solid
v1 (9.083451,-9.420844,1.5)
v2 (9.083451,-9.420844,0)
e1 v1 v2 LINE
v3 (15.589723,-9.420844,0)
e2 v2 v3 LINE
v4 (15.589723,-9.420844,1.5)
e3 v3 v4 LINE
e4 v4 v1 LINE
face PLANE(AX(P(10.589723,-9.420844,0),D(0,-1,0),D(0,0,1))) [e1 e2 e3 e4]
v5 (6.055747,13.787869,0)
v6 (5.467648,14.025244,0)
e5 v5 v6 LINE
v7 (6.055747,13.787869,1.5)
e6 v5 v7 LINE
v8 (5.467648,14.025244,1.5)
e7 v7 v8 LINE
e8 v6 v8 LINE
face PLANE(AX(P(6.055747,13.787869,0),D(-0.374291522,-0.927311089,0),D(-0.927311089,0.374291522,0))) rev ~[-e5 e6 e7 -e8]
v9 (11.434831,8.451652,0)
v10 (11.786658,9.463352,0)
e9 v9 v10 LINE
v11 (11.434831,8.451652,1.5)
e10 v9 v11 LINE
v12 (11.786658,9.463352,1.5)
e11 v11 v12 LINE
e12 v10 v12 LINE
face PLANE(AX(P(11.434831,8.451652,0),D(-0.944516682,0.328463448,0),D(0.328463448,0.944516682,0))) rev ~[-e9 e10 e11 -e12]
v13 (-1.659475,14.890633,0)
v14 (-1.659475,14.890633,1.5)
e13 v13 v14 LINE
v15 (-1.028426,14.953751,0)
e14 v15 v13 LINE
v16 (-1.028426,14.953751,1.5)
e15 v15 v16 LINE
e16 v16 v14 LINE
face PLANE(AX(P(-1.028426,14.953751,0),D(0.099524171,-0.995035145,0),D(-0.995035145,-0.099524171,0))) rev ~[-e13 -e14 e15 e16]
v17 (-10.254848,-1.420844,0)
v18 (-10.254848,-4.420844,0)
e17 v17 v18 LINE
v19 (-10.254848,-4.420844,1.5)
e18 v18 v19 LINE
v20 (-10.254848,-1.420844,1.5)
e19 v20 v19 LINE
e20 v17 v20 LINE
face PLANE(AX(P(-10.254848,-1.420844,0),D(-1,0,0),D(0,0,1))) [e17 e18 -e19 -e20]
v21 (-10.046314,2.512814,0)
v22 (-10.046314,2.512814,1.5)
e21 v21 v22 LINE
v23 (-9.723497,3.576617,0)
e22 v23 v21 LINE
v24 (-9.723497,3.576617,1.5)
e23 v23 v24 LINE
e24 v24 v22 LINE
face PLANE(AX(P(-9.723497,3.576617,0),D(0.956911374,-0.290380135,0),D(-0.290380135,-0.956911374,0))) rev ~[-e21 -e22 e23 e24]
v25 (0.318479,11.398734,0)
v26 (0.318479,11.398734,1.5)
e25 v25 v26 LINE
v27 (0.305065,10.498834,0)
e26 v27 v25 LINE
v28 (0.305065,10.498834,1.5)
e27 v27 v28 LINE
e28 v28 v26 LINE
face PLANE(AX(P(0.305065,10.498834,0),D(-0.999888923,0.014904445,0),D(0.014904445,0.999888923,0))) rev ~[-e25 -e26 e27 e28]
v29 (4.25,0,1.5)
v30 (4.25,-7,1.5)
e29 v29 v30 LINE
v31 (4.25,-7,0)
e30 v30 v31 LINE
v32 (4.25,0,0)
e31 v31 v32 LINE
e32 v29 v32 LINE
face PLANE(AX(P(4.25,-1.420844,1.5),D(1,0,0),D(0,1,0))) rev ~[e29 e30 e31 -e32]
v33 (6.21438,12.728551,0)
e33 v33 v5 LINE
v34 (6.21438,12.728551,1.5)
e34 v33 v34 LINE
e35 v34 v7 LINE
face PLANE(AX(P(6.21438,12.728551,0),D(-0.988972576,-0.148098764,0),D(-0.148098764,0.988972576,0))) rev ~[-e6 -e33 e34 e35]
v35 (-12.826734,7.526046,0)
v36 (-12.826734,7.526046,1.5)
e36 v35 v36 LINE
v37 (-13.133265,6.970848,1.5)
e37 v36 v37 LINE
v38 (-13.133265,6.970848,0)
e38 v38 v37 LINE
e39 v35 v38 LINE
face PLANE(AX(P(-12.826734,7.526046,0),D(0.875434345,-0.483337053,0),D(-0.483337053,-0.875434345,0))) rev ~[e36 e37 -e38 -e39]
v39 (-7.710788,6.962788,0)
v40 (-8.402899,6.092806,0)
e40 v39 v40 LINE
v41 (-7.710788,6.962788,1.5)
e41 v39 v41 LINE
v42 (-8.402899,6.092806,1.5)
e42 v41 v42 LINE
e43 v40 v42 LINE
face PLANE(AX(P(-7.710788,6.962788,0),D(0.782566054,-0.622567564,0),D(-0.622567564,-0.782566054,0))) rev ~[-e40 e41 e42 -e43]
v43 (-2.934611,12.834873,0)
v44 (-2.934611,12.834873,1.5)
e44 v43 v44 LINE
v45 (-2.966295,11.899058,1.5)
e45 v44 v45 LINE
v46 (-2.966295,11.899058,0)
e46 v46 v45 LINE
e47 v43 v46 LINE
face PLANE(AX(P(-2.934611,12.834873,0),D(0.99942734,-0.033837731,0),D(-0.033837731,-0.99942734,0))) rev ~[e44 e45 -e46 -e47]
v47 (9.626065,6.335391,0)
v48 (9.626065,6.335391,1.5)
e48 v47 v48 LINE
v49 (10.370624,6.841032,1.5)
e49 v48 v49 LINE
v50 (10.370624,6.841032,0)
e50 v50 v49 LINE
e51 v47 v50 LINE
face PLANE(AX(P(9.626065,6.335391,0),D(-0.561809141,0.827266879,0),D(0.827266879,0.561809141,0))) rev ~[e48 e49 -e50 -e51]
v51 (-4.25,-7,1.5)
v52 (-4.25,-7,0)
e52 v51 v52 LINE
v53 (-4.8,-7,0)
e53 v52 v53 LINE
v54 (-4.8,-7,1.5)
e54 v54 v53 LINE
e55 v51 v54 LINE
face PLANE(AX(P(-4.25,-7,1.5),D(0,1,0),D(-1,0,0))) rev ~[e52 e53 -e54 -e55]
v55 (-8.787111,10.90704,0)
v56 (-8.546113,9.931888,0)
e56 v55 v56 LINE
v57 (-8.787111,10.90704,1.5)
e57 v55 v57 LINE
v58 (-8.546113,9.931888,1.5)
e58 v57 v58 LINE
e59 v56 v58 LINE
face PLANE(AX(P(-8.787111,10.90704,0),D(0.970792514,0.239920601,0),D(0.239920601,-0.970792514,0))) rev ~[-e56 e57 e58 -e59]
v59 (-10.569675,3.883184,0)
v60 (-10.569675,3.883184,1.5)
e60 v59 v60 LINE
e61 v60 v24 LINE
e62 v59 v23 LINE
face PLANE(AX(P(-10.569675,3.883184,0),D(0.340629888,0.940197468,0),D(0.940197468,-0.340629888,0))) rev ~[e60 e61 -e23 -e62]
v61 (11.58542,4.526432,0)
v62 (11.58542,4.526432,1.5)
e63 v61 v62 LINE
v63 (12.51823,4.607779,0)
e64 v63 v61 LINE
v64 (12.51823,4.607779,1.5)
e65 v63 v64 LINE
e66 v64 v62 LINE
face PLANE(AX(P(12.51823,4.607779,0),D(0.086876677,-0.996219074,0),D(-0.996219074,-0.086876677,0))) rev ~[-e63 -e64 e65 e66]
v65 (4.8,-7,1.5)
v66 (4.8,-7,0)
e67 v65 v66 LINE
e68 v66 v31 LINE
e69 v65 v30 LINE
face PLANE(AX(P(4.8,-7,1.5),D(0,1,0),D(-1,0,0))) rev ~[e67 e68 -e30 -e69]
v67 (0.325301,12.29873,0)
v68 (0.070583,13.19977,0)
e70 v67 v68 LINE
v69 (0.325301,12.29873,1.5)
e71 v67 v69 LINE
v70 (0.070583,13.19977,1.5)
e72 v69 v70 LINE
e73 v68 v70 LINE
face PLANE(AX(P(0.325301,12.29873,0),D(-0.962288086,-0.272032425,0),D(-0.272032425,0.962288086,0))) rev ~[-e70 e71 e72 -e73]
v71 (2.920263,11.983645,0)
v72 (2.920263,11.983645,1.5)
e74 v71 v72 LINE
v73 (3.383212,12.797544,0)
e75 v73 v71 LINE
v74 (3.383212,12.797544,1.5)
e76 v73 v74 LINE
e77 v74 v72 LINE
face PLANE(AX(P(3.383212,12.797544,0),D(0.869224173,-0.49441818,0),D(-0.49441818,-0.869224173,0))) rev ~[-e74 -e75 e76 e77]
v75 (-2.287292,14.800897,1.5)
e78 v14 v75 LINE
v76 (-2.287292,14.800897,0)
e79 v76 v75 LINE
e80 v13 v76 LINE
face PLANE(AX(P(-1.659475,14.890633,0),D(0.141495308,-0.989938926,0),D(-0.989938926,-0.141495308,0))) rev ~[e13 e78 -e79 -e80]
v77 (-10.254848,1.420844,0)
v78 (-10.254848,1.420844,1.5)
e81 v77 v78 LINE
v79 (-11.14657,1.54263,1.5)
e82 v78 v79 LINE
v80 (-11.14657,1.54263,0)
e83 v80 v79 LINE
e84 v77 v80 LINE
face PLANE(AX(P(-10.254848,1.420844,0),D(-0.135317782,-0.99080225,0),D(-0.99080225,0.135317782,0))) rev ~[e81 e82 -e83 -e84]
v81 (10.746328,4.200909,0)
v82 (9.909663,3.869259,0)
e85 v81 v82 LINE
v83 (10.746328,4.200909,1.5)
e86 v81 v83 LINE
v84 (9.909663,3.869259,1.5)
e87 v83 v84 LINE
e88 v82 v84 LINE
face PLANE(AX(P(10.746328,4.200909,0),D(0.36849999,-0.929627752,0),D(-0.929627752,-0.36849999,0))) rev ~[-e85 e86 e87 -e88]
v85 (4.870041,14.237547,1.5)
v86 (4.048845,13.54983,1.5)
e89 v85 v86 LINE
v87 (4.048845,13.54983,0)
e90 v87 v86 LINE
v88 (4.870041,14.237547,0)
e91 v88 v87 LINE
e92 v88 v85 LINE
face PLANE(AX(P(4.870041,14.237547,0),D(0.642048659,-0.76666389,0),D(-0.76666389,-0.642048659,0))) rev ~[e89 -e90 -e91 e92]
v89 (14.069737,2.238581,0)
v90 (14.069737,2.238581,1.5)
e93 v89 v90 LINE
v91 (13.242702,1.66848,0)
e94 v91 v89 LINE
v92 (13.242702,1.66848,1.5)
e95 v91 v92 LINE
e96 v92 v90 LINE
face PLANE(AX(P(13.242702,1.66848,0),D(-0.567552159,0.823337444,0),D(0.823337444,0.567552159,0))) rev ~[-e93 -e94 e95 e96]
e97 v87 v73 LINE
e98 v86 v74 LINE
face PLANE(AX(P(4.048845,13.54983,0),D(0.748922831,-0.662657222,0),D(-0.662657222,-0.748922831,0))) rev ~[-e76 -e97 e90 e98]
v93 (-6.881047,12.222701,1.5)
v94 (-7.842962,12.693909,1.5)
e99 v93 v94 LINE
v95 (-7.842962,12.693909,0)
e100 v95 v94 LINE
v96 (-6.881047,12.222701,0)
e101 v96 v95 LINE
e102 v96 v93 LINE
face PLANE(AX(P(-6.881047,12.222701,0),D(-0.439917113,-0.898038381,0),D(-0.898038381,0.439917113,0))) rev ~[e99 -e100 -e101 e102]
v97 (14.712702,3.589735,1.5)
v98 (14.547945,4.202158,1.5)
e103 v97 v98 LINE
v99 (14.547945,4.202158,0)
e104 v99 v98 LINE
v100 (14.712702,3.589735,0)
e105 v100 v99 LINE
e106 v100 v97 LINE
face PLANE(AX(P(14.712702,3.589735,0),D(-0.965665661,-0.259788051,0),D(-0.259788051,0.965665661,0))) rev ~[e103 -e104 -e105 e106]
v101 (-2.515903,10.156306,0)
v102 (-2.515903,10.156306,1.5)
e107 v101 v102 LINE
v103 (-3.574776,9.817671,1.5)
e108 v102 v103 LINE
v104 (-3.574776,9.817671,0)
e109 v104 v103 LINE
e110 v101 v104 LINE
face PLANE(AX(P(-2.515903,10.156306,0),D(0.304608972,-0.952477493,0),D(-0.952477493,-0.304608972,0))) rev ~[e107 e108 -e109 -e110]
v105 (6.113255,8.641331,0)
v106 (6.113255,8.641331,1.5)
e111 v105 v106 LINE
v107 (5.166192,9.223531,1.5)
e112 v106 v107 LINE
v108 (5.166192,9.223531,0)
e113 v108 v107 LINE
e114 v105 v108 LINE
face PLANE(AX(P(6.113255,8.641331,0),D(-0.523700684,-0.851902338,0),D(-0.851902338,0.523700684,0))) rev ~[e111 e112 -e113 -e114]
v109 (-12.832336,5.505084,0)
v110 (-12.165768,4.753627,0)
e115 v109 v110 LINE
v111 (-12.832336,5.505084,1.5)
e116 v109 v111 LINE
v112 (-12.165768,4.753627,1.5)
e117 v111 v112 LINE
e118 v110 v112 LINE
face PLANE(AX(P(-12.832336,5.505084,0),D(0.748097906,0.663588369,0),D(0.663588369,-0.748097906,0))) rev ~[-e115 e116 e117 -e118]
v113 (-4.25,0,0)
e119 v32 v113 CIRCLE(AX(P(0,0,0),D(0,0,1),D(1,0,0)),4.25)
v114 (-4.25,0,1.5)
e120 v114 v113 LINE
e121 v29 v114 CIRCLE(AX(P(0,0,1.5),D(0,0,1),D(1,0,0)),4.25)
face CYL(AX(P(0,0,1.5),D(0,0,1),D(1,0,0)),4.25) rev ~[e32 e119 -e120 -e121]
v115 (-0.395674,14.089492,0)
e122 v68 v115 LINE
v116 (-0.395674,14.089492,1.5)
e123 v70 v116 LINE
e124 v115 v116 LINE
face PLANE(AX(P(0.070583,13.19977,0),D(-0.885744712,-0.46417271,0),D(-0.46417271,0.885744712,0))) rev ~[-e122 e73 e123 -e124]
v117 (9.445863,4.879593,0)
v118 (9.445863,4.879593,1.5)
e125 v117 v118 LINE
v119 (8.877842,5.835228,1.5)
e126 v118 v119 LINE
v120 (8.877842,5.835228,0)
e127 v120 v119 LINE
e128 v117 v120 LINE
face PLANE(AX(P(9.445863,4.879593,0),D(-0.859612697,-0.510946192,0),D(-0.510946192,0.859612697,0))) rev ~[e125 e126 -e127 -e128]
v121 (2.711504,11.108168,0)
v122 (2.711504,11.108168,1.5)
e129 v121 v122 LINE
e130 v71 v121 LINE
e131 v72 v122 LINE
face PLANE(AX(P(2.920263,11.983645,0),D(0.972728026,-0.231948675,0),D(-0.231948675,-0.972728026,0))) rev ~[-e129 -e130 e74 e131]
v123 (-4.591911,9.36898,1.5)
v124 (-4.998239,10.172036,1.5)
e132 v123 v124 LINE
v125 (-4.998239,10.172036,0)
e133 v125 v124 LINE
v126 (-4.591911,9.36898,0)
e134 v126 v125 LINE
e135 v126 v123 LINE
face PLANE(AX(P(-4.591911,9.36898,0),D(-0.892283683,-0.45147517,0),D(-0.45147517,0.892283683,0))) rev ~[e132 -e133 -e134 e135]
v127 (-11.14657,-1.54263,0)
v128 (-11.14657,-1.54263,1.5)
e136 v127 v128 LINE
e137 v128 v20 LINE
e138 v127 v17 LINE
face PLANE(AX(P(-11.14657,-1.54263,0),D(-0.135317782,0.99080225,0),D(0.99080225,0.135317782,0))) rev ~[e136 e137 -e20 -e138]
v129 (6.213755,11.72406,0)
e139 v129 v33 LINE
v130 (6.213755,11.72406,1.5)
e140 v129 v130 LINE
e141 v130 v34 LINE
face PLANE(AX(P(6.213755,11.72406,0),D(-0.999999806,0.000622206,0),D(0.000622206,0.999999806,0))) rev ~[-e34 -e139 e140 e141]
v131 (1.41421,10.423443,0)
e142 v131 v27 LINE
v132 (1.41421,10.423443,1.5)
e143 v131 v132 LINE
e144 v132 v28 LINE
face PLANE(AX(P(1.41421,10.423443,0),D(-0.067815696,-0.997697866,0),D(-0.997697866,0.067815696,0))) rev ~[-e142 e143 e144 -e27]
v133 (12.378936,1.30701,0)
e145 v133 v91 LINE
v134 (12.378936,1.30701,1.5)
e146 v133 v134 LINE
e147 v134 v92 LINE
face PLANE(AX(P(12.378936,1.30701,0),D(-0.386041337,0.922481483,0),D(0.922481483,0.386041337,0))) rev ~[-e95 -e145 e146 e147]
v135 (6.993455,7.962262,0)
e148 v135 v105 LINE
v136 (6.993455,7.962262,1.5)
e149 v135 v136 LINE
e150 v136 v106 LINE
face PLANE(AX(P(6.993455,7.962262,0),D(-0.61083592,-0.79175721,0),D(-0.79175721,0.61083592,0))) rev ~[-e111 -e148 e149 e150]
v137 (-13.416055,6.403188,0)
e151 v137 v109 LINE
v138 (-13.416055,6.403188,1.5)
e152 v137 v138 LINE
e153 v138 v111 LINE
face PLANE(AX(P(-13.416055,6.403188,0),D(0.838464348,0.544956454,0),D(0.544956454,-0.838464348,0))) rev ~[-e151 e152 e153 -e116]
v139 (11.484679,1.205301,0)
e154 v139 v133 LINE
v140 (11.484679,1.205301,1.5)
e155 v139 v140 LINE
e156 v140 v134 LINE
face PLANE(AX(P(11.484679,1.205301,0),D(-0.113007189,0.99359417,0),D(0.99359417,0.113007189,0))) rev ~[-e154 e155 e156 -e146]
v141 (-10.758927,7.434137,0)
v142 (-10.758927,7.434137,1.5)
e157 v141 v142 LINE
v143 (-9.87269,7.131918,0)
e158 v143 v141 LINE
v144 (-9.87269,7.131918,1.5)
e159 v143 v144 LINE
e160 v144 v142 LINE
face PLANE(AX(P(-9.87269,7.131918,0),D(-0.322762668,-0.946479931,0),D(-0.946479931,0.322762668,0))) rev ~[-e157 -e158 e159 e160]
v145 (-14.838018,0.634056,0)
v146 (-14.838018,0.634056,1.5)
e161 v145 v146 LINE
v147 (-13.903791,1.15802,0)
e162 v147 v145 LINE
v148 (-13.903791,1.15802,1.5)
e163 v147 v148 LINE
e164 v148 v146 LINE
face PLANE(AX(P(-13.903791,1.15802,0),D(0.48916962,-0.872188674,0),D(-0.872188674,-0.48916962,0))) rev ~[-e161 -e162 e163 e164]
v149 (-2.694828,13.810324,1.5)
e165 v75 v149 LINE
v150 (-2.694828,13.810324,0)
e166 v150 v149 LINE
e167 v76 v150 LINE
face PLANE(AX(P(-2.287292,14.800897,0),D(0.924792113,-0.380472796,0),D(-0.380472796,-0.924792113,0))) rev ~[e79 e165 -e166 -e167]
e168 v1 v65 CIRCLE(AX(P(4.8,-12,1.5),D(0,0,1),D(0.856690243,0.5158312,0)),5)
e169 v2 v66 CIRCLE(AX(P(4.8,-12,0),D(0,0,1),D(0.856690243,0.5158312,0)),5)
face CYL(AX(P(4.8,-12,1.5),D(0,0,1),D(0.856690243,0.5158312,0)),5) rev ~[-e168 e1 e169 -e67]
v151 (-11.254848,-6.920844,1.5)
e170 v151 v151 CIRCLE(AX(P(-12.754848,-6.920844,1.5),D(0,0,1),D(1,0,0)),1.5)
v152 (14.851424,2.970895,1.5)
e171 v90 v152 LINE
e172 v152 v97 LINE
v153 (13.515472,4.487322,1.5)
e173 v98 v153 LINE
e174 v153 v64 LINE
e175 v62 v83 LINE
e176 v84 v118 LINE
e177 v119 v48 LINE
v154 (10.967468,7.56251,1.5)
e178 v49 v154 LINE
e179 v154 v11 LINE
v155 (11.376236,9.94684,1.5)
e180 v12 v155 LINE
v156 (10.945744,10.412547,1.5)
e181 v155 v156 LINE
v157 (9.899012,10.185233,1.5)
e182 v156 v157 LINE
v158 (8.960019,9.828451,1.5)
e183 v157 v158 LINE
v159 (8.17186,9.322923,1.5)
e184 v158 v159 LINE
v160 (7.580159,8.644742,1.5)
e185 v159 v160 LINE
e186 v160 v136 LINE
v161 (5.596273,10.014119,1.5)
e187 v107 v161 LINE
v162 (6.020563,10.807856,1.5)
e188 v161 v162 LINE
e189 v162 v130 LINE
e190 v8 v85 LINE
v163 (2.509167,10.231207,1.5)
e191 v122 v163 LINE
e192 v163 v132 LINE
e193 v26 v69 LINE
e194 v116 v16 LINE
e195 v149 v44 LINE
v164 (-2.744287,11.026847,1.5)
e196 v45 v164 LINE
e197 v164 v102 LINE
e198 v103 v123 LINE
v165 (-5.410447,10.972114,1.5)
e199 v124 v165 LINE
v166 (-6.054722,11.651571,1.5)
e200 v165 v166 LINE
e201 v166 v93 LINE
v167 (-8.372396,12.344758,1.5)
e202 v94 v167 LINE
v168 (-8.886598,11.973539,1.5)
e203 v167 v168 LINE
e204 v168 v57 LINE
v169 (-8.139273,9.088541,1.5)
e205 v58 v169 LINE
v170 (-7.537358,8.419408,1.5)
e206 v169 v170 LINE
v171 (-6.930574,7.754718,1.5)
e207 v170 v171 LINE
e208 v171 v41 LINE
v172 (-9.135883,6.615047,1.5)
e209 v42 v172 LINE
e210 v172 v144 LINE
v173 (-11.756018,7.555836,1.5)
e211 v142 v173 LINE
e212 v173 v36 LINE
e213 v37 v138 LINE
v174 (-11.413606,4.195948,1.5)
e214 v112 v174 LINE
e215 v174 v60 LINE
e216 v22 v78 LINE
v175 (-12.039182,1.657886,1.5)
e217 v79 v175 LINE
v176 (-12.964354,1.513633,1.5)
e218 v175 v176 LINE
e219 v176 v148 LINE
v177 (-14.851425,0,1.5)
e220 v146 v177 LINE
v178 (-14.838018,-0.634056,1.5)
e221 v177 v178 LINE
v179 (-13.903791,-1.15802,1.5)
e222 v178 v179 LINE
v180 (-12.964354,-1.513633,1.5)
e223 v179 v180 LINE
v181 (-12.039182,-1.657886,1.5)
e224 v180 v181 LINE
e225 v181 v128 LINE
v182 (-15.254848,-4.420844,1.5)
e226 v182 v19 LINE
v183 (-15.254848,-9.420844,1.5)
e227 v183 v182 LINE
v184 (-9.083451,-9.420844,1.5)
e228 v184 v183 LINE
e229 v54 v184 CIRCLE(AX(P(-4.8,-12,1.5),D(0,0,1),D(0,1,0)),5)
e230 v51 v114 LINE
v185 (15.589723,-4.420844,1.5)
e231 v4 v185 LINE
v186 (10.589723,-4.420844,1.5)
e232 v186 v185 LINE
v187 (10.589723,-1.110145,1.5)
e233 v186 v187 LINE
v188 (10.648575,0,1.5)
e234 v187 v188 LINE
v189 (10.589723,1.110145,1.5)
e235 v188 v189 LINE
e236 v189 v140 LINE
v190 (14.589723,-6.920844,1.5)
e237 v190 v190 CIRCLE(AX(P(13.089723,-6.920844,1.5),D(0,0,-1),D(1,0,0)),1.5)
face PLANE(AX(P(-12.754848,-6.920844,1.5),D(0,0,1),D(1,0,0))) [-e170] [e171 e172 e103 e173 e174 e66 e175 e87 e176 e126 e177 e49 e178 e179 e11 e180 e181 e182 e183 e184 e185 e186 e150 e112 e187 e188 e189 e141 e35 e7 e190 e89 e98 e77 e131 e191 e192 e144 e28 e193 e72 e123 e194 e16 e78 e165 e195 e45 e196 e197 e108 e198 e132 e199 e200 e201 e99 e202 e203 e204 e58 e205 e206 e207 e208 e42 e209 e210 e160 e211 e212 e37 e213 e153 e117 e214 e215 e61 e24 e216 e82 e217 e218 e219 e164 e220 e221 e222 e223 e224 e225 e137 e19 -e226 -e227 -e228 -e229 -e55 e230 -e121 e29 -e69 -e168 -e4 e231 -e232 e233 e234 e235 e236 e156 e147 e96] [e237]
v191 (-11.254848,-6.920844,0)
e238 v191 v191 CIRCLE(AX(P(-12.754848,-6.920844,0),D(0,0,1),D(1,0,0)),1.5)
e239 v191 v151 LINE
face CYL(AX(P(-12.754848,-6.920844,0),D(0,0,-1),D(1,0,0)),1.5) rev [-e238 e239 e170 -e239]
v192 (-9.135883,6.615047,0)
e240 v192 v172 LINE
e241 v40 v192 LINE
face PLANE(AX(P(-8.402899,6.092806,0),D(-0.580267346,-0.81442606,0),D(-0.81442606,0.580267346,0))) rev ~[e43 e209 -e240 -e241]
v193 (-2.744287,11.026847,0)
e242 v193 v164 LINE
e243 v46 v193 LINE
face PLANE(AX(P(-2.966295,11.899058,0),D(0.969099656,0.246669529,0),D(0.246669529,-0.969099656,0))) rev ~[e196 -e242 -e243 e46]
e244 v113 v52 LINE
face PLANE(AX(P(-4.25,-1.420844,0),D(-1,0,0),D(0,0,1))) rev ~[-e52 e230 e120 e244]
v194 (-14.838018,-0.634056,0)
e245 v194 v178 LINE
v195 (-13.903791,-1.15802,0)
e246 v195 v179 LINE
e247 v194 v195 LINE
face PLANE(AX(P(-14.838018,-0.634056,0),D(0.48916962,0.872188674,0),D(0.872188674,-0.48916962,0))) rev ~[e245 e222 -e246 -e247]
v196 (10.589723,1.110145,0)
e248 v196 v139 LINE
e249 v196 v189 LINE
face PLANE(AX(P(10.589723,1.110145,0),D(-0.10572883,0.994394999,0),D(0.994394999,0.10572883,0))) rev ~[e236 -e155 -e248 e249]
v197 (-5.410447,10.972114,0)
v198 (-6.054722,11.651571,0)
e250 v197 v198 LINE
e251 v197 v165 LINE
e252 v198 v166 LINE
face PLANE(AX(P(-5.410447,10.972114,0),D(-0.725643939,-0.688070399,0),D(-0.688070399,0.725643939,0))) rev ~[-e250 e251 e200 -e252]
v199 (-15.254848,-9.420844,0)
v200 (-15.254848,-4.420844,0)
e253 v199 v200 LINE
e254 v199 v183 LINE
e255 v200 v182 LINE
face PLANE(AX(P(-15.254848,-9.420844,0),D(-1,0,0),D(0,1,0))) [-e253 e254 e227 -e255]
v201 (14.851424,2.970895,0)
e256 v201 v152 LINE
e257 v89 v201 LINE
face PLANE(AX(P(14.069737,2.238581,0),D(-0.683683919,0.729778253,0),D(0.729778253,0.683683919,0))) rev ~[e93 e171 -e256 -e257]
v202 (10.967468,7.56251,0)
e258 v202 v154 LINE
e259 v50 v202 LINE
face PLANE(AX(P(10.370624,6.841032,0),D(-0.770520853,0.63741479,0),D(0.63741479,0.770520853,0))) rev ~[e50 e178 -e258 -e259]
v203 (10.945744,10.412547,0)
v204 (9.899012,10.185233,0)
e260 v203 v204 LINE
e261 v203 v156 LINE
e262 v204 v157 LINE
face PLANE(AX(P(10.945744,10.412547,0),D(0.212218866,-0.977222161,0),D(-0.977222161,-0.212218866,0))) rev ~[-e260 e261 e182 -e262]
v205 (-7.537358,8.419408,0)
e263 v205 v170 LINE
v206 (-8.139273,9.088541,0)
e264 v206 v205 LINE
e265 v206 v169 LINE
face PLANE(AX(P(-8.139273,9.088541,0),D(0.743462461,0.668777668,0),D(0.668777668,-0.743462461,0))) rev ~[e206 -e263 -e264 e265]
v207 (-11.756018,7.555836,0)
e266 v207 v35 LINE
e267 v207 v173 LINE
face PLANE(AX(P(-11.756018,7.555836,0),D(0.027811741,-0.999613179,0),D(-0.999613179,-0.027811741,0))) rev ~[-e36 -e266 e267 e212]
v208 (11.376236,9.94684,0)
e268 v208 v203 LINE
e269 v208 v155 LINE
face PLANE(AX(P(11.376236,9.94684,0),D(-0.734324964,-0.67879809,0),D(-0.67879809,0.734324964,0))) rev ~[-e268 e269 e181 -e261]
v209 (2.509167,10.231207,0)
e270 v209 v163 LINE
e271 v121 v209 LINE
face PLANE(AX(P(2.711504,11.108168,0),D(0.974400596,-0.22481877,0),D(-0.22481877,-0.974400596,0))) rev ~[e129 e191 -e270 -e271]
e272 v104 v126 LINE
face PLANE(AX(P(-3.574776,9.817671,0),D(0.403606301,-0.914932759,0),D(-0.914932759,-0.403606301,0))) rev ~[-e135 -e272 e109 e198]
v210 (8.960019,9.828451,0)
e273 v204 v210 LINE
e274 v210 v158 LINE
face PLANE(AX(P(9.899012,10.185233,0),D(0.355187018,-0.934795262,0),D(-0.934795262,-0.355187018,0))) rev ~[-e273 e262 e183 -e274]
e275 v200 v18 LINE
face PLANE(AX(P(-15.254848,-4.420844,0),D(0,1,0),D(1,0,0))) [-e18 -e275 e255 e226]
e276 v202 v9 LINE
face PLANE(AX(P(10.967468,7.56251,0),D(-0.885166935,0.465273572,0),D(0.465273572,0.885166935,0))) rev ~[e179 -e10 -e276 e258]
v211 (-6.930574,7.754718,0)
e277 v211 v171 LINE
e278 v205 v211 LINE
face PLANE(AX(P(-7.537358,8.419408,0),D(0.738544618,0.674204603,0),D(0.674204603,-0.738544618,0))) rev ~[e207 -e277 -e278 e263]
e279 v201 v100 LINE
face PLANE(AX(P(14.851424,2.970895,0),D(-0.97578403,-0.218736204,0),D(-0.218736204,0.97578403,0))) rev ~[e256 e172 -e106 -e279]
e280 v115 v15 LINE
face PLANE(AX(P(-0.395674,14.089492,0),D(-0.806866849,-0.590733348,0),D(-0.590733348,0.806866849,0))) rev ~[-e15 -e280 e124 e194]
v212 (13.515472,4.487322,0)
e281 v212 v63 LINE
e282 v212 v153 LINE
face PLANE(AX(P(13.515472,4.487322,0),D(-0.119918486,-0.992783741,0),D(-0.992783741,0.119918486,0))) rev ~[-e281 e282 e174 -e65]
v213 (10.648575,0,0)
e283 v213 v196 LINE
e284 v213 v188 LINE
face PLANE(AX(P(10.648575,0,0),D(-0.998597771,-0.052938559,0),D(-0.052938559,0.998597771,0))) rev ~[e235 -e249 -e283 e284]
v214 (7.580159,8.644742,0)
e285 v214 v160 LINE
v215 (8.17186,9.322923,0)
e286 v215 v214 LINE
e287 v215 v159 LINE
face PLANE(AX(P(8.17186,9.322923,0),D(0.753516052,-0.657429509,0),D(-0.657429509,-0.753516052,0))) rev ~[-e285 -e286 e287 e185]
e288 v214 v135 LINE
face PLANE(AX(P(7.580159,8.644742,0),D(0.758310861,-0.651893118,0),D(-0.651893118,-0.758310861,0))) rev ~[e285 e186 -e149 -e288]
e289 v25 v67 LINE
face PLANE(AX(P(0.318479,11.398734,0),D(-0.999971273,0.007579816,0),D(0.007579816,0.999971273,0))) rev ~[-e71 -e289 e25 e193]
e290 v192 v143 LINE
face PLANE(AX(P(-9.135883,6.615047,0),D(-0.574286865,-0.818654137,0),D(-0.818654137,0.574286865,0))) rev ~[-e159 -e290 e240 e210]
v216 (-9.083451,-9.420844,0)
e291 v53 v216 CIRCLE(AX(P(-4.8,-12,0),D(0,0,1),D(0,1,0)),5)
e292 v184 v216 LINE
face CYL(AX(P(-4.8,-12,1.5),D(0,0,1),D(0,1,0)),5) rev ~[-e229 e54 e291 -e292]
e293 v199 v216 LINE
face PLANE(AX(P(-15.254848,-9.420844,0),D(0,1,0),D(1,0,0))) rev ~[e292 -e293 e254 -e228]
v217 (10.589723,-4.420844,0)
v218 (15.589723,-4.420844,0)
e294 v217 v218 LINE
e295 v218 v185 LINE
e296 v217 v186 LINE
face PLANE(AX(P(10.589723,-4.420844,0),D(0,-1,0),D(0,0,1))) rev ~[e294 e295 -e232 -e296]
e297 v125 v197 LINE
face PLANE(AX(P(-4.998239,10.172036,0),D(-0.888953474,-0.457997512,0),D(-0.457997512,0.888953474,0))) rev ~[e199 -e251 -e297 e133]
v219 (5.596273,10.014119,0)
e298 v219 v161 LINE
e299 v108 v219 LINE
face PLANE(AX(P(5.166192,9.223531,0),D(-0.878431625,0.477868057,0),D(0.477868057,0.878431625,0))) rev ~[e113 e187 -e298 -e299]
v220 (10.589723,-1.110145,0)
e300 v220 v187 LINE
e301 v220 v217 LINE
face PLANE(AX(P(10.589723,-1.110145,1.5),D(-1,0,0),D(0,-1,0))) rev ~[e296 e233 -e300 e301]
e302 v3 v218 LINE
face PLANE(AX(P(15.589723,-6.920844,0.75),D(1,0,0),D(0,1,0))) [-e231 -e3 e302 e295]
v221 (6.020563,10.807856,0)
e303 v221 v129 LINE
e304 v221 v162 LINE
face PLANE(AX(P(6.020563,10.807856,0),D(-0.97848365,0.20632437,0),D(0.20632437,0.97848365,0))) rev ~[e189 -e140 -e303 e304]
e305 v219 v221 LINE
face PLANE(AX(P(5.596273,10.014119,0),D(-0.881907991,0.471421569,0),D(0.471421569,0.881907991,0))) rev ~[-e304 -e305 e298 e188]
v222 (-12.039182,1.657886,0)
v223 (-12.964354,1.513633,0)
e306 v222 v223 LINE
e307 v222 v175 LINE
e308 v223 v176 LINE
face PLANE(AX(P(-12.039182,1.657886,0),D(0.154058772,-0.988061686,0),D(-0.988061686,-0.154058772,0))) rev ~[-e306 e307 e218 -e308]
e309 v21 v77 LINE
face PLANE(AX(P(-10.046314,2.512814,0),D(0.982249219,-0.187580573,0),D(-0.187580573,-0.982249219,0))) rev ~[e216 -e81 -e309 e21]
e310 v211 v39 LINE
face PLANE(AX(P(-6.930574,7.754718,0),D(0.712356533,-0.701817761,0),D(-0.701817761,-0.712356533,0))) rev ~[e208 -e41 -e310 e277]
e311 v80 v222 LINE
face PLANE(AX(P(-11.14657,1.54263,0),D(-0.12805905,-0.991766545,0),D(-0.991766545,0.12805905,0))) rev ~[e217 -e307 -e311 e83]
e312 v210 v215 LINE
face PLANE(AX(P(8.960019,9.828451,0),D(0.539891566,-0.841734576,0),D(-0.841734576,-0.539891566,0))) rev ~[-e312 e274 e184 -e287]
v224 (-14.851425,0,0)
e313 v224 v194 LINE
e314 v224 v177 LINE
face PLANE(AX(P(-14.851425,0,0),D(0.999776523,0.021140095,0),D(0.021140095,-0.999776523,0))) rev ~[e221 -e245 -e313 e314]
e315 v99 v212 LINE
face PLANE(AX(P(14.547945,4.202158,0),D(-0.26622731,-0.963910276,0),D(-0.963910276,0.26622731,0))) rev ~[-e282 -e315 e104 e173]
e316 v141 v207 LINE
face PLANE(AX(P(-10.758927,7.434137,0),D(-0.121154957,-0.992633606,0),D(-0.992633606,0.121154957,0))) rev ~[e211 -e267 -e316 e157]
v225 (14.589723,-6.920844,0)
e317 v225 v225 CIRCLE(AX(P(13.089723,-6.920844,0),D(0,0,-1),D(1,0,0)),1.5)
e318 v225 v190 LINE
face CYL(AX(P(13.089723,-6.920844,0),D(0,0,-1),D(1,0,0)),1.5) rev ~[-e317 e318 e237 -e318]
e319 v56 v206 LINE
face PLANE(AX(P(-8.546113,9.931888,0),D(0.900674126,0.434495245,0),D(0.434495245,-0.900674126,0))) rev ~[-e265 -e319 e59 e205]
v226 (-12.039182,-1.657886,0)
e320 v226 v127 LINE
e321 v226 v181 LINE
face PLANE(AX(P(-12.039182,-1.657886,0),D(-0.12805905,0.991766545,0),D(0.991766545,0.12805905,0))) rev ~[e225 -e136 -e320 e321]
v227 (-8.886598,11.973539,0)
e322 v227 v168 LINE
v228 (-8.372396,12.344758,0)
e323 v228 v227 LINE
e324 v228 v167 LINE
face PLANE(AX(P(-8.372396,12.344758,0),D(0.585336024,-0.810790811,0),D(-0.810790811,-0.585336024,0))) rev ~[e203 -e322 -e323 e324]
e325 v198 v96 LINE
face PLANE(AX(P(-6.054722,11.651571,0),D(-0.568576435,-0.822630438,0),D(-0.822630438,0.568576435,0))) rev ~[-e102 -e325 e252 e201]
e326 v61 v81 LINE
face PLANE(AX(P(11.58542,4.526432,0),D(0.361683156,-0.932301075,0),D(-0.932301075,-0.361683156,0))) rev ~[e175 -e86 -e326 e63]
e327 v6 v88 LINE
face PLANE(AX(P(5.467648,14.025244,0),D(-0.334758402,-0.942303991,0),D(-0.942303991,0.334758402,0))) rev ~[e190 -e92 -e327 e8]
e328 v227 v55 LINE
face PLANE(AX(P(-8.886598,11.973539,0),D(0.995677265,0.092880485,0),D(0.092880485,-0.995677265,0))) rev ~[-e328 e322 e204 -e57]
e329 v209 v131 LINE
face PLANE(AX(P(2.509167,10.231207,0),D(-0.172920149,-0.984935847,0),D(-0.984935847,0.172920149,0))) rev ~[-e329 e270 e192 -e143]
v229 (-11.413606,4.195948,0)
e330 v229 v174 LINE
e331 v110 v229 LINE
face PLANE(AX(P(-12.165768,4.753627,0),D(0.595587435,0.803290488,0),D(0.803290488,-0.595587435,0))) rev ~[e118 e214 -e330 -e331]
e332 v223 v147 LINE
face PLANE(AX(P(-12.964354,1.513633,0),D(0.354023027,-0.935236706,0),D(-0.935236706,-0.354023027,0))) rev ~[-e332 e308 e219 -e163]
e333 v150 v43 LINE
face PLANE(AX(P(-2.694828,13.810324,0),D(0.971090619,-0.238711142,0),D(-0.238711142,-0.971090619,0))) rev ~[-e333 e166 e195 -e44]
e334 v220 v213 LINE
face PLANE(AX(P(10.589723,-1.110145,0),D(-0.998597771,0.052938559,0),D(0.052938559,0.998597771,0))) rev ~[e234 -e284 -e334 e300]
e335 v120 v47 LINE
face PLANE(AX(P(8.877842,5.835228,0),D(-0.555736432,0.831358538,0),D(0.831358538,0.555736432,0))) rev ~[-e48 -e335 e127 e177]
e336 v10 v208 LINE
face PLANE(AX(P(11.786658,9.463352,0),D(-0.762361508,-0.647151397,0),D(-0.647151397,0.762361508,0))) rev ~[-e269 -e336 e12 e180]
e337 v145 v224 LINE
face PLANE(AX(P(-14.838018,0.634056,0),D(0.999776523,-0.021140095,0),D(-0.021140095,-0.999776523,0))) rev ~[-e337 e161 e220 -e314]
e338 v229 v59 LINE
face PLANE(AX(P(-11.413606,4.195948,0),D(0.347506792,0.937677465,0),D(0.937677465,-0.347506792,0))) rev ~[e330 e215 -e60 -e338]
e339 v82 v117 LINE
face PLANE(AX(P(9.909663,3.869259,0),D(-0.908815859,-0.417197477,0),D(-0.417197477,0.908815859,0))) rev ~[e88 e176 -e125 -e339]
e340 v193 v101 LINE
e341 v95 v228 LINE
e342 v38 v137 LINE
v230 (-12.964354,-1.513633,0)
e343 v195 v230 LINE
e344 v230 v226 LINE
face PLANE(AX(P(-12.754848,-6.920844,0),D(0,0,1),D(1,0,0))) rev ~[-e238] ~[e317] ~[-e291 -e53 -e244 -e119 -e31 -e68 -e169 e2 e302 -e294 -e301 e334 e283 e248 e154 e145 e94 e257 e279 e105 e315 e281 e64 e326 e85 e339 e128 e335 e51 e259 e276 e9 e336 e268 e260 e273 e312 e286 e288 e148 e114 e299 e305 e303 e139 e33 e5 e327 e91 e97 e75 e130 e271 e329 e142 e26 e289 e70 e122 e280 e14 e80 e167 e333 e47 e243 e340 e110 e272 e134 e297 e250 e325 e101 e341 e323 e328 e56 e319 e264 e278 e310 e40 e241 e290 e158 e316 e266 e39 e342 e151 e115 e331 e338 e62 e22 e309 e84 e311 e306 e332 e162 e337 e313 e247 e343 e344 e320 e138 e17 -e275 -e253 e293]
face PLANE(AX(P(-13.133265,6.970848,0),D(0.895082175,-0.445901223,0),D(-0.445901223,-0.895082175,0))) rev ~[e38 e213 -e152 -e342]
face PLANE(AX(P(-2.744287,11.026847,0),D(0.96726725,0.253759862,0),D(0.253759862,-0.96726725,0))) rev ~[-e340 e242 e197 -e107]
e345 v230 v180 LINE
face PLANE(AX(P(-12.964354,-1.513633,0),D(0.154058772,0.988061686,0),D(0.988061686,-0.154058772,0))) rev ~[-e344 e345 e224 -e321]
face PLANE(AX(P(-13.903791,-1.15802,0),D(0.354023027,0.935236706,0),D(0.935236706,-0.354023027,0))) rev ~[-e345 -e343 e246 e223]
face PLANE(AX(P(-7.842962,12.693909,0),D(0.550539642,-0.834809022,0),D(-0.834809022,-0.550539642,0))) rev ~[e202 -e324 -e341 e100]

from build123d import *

# Parameters (mm, degrees)
F1_DEPTH  = 1.5
F3_DEPTH  = 1.5
F4_W      = 6.004848
F4_H      = 1.5
F4_W_2    = 6.339723
F5_DEPTH  = 8
F6_W      = 5
F6_H      = 1.5
F7_DEPTH  = 5
F8_R      = 1.5
F9_DEPTH  = 1.5
F10_W     = 5
F10_H     = 5
F10_R     = 1.5
F11_DEPTH = 1.5
F13_DEPTH = 1.5


with BuildPart() as f1:
    # F0 (on Top) → F1 (new body)
    with BuildSketch(Plane.XY):
        Polygon((10.589723, -1.110145), (10.648575, 0), (10.589723, 1.110145), (11.484679, 1.205301), (12.378936, 1.30701), (13.242702, 1.66848), (14.069737, 2.238581), (14.851424, 2.970895), (14.712702, 3.589735), (14.547945, 4.202158), (13.515472, 4.487322), (12.51823, 4.607779), (11.58542, 4.526432), (10.746328, 4.200909), (9.909663, 3.869259), (9.445863, 4.879593), (8.877842, 5.835228), (9.626065, 6.335391), (10.370624, 6.841032), (10.967468, 7.56251), (11.434831, 8.451652), (11.786658, 9.463352), (11.376236, 9.94684), (10.945744, 10.412547), (9.899012, 10.185233), (8.960019, 9.828451), (8.17186, 9.322923), (7.580159, 8.644742), (6.993455, 7.962262), (6.113255, 8.641331), (5.166192, 9.223531), (5.596273, 10.014119), (6.020563, 10.807856), (6.213755, 11.72406), (6.21438, 12.728551), (6.055747, 13.787869), (5.467648, 14.025244), (4.870041, 14.237547), (4.048845, 13.54983), (3.383212, 12.797544), (2.920263, 11.983645), (2.711504, 11.108168), (2.509167, 10.231207), (1.41421, 10.423443), (0.305065, 10.498834), (0.318479, 11.398734), (0.325301, 12.29873), (0.070583, 13.19977), (-0.395674, 14.089492), (-1.028426, 14.953751), (-1.659475, 14.890633), (-2.287292, 14.800897), (-2.694828, 13.810324), (-2.934611, 12.834873), (-2.966295, 11.899058), (-2.744287, 11.026847), (-2.515903, 10.156306), (-3.574776, 9.817671), (-4.591911, 9.36898), (-4.998239, 10.172036), (-5.410447, 10.972114), (-6.054722, 11.651571), (-6.881047, 12.222701), (-7.842962, 12.693909), (-8.372396, 12.344758), (-8.886598, 11.973539), (-8.787111, 10.90704), (-8.546113, 9.931888), (-8.139273, 9.088541), (-7.537358, 8.419408), (-6.930574, 7.754718), (-7.710788, 6.962788), (-8.402899, 6.092806), (-9.135883, 6.615047), (-9.87269, 7.131918), (-10.758927, 7.434137), (-11.756018, 7.555836), (-12.826734, 7.526046), (-13.133265, 6.970848), (-13.416055, 6.403188), (-12.832336, 5.505084), (-12.165768, 4.753627), (-11.413606, 4.195948), (-10.569675, 3.883184), (-9.723497, 3.576617), (-10.046314, 2.512814), (-10.254848, 1.420844), (-11.14657, 1.54263), (-12.039182, 1.657886), (-12.964354, 1.513633), (-13.903791, 1.15802), (-14.838018, 0.634056), (-14.851425, 0), (-14.838018, -0.634056), (-13.903791, -1.15802), (-12.964354, -1.513633), (-12.039182, -1.657886), (-11.14657, -1.54263), (-10.254848, -1.420844), (-10.046314, -2.512814), (-9.723497, -3.576617), (-10.569675, -3.883184), (-11.413606, -4.195948), (-12.165768, -4.753627), (-12.832336, -5.505084), (-13.416055, -6.403188), (-13.133265, -6.970848), (-12.826734, -7.526046), (-11.756018, -7.555836), (-10.758927, -7.434137), (-9.87269, -7.131918), (-9.135883, -6.615047), (-8.402899, -6.092806), (-7.710788, -6.962788), (-6.930574, -7.754718), (-7.537358, -8.419408), (-8.139273, -9.088541), (-8.546113, -9.931888), (-8.787111, -10.90704), (-8.886598, -11.973539), (-8.372396, -12.344758), (-7.842962, -12.693909), (-6.881047, -12.222701), (-6.054722, -11.651571), (-5.410447, -10.972114), (-4.998239, -10.172036), (-4.591911, -9.36898), (-3.574776, -9.817671), (-2.515903, -10.156306), (-2.744287, -11.026847), (-2.966295, -11.899058), (-2.934611, -12.834873), (-2.694828, -13.810324), (-2.287292, -14.800897), (-1.659475, -14.890633), (-1.028426, -14.953751), (-0.395674, -14.089492), (0.070583, -13.19977), (0.325301, -12.29873), (0.318479, -11.398734), (0.305065, -10.498834), (1.41421, -10.423443), (2.509167, -10.231207), (2.711504, -11.108168), (2.920263, -11.983645), (3.383212, -12.797544), (4.048845, -13.54983), (4.870041, -14.237547), (5.467648, -14.025244), (6.055747, -13.787869), (6.21438, -12.728551), (6.213755, -11.72406), (6.020563, -10.807856), (5.596273, -10.014119), (5.166192, -9.223531), (6.113255, -8.641331), (6.993455, -7.962262), (7.580159, -8.644742), (8.17186, -9.322923), (8.960019, -9.828451), (9.899012, -10.185233), (10.945744, -10.412547), (11.376236, -9.94684), (11.786658, -9.463352), (11.434831, -8.451652), (10.967468, -7.56251), (10.370624, -6.841032), (9.626065, -6.335391), (8.877842, -5.835228), (9.445863, -4.879593), (9.909663, -3.869259), (10.746328, -4.200909), (11.58542, -4.526432), (12.51823, -4.607779), (13.515472, -4.487322), (14.547945, -4.202158), (14.712702, -3.589735), (14.851424, -2.970895), (14.069737, -2.238581), (13.242702, -1.66848), (12.378936, -1.30701), (11.484679, -1.205301), align=None)
    extrude(amount=F1_DEPTH)

    # F2 (on face) → F3 (cut, through all)
    with BuildSketch(Plane.XY.offset(1.5)):
        with BuildLine():
            Line((4.25, -1.420844), (4.25, 0))
            ThreePointArc((4.25, 0), (0, 4.25), (-4.25, 0))
            Line((-4.25, 0), (-4.25, -1.420844))
            Line((-4.25, -1.420844), (-10.254848, -1.420844))
            Line((-10.254848, -1.420844), (-10.046314, -2.512814))
            Line((-10.046314, -2.512814), (-9.723497, -3.576617))
            Line((-9.723497, -3.576617), (-10.569675, -3.883184))
            Line((-10.569675, -3.883184), (-11.413606, -4.195948))
            Line((-11.413606, -4.195948), (-12.165768, -4.753627))
            Line((-12.165768, -4.753627), (-12.832336, -5.505084))
            Line((-12.832336, -5.505084), (-13.416055, -6.403188))
            Line((-13.416055, -6.403188), (-13.133265, -6.970848))
            Line((-13.133265, -6.970848), (-12.826734, -7.526046))
            Line((-12.826734, -7.526046), (-11.756018, -7.555836))
            Line((-11.756018, -7.555836), (-10.758927, -7.434137))
            Line((-10.758927, -7.434137), (-9.87269, -7.131918))
            Line((-9.87269, -7.131918), (-9.135883, -6.615047))
            Line((-9.135883, -6.615047), (-8.402899, -6.092806))
            Line((-8.402899, -6.092806), (-7.710788, -6.962788))
            Line((-7.710788, -6.962788), (-6.930574, -7.754718))
            Line((-6.930574, -7.754718), (-7.537358, -8.419408))
            Line((-7.537358, -8.419408), (-8.139273, -9.088541))
            Line((-8.139273, -9.088541), (-8.546113, -9.931888))
            Line((-8.546113, -9.931888), (-8.787111, -10.90704))
            Line((-8.787111, -10.90704), (-8.886598, -11.973539))
            Line((-8.886598, -11.973539), (-8.372396, -12.344758))
            Line((-8.372396, -12.344758), (-7.842962, -12.693909))
            Line((-7.842962, -12.693909), (-6.881047, -12.222701))
            Line((-6.881047, -12.222701), (-6.054722, -11.651571))
            Line((-6.054722, -11.651571), (-5.410447, -10.972114))
            Line((-5.410447, -10.972114), (-4.998239, -10.172036))
            Line((-4.998239, -10.172036), (-4.591911, -9.36898))
            Line((-4.591911, -9.36898), (-3.574776, -9.817671))
            Line((-3.574776, -9.817671), (-2.515903, -10.156306))
            Line((-2.515903, -10.156306), (-2.744287, -11.026847))
            Line((-2.744287, -11.026847), (-2.966295, -11.899058))
            Line((-2.966295, -11.899058), (-2.934611, -12.834873))
            Line((-2.934611, -12.834873), (-2.694828, -13.810324))
            Line((-2.694828, -13.810324), (-2.287292, -14.800897))
            Line((-2.287292, -14.800897), (-1.659475, -14.890633))
            Line((-1.659475, -14.890633), (-1.028426, -14.953751))
            Line((-1.028426, -14.953751), (-0.395674, -14.089492))
            Line((-0.395674, -14.089492), (0.070583, -13.19977))
            Line((0.070583, -13.19977), (0.325301, -12.29873))
            Line((0.325301, -12.29873), (0.318479, -11.398734))
            Line((0.318479, -11.398734), (0.305065, -10.498834))
            Line((0.305065, -10.498834), (1.41421, -10.423443))
            Line((1.41421, -10.423443), (2.509167, -10.231207))
            Line((2.509167, -10.231207), (2.711504, -11.108168))
            Line((2.711504, -11.108168), (2.920263, -11.983645))
            Line((2.920263, -11.983645), (3.383212, -12.797544))
            Line((3.383212, -12.797544), (4.048845, -13.54983))
            Line((4.048845, -13.54983), (4.870041, -14.237547))
            Line((4.870041, -14.237547), (5.467648, -14.025244))
            Line((5.467648, -14.025244), (6.055747, -13.787869))
            Line((6.055747, -13.787869), (6.21438, -12.728551))
            Line((6.21438, -12.728551), (6.213755, -11.72406))
            Line((6.213755, -11.72406), (6.020563, -10.807856))
            Line((6.020563, -10.807856), (5.596273, -10.014119))
            Line((5.596273, -10.014119), (5.166192, -9.223531))
            Line((5.166192, -9.223531), (6.113255, -8.641331))
            Line((6.113255, -8.641331), (6.993455, -7.962262))
            Line((6.993455, -7.962262), (7.580159, -8.644742))
            Line((7.580159, -8.644742), (8.17186, -9.322923))
            Line((8.17186, -9.322923), (8.960019, -9.828451))
            Line((8.960019, -9.828451), (9.899012, -10.185233))
            Line((9.899012, -10.185233), (10.945744, -10.412547))
            Line((10.945744, -10.412547), (11.376236, -9.94684))
            Line((11.376236, -9.94684), (11.786658, -9.463352))
            Line((11.786658, -9.463352), (11.434831, -8.451652))
            Line((11.434831, -8.451652), (10.967468, -7.56251))
            Line((10.967468, -7.56251), (10.370624, -6.841032))
            Line((10.370624, -6.841032), (9.626065, -6.335391))
            Line((9.626065, -6.335391), (8.877842, -5.835228))
            Line((8.877842, -5.835228), (9.445863, -4.879593))
            Line((9.445863, -4.879593), (9.909663, -3.869259))
            Line((9.909663, -3.869259), (10.746328, -4.200909))
            Line((10.746328, -4.200909), (11.58542, -4.526432))
            Line((11.58542, -4.526432), (12.51823, -4.607779))
            Line((12.51823, -4.607779), (13.515472, -4.487322))
            Line((13.515472, -4.487322), (14.547945, -4.202158))
            Line((14.547945, -4.202158), (14.712702, -3.589735))
            Line((14.712702, -3.589735), (14.851424, -2.970895))
            Line((14.851424, -2.970895), (14.069737, -2.238581))
            Line((14.069737, -2.238581), (13.242702, -1.66848))
            Line((13.242702, -1.66848), (12.378936, -1.30701))
            Line((12.378936, -1.30701), (11.484679, -1.205301))
            Line((11.484679, -1.205301), (10.589723, -1.110145))
            Line((10.589723, -1.110145), (10.589723, -1.420844))
            Line((10.589723, -1.420844), (4.25, -1.420844))
        make_face()
    extrude(amount=-F3_DEPTH, mode=Mode.SUBTRACT)

    # F4 (on face) → F5 (join)
    with BuildSketch(Plane.XZ.offset(1.420844)):
        with Locations((-7.252424, 0.75)):
            Rectangle(F4_W, F4_H)
        with Locations((7.4198615, 0.75)):
            Rectangle(F4_W_2, F4_H)
    extrude(amount=F5_DEPTH)

    # F6 (on face) → F7 (join)
    with BuildSketch(Plane.YZ.offset(10.589723)):
        with Locations((-6.920844, 0.75)):
            Rectangle(F6_W, F6_H)
    extrude(amount=F7_DEPTH)

    # F8 (on face) → F9 (cut, through all)
    with BuildSketch(Plane(origin=(0, 0, 0), x_dir=(1, 0, 0), z_dir=(0, 0, -1))):
        with Locations((13.089723, 6.920844)):
            Circle(F8_R)
    extrude(amount=-F9_DEPTH, mode=Mode.SUBTRACT)

    # F10 (on Top) → F11 (join)
    with BuildSketch(Plane.XY):
        with Locations((-12.754848, -6.920844)):
            Rectangle(F10_W, F10_H)
        with Locations((-12.754848, -6.920844)):
            Circle(F10_R, mode=Mode.SUBTRACT)
    extrude(amount=F11_DEPTH)

    # F12 (on face) → F13 (cut, through all)
    with BuildSketch(Plane.XY.offset(1.5)):
        with BuildLine():
            Line((-4.25, -7), (-4.8, -7))
            ThreePointArc((-4.8, -7), (-7.2601036564, -7.6470825875), (-9.0834512169, -9.420844))
            Line((-9.0834512169, -9.420844), (-4.25, -9.420844))
            Line((-4.25, -9.420844), (-4.25, -7))
        make_face()
        with BuildLine():
            Line((4.8, -7), (4.25, -7))
            Line((4.25, -7), (4.25, -9.420844))
            Line((4.25, -9.420844), (9.0834512169, -9.420844))
            ThreePointArc((9.0834512169, -9.420844), (7.2601036564, -7.6470825875), (4.8, -7))
        make_face()
    extrude(amount=-F13_DEPTH, mode=Mode.SUBTRACT)


solid = f1.part
